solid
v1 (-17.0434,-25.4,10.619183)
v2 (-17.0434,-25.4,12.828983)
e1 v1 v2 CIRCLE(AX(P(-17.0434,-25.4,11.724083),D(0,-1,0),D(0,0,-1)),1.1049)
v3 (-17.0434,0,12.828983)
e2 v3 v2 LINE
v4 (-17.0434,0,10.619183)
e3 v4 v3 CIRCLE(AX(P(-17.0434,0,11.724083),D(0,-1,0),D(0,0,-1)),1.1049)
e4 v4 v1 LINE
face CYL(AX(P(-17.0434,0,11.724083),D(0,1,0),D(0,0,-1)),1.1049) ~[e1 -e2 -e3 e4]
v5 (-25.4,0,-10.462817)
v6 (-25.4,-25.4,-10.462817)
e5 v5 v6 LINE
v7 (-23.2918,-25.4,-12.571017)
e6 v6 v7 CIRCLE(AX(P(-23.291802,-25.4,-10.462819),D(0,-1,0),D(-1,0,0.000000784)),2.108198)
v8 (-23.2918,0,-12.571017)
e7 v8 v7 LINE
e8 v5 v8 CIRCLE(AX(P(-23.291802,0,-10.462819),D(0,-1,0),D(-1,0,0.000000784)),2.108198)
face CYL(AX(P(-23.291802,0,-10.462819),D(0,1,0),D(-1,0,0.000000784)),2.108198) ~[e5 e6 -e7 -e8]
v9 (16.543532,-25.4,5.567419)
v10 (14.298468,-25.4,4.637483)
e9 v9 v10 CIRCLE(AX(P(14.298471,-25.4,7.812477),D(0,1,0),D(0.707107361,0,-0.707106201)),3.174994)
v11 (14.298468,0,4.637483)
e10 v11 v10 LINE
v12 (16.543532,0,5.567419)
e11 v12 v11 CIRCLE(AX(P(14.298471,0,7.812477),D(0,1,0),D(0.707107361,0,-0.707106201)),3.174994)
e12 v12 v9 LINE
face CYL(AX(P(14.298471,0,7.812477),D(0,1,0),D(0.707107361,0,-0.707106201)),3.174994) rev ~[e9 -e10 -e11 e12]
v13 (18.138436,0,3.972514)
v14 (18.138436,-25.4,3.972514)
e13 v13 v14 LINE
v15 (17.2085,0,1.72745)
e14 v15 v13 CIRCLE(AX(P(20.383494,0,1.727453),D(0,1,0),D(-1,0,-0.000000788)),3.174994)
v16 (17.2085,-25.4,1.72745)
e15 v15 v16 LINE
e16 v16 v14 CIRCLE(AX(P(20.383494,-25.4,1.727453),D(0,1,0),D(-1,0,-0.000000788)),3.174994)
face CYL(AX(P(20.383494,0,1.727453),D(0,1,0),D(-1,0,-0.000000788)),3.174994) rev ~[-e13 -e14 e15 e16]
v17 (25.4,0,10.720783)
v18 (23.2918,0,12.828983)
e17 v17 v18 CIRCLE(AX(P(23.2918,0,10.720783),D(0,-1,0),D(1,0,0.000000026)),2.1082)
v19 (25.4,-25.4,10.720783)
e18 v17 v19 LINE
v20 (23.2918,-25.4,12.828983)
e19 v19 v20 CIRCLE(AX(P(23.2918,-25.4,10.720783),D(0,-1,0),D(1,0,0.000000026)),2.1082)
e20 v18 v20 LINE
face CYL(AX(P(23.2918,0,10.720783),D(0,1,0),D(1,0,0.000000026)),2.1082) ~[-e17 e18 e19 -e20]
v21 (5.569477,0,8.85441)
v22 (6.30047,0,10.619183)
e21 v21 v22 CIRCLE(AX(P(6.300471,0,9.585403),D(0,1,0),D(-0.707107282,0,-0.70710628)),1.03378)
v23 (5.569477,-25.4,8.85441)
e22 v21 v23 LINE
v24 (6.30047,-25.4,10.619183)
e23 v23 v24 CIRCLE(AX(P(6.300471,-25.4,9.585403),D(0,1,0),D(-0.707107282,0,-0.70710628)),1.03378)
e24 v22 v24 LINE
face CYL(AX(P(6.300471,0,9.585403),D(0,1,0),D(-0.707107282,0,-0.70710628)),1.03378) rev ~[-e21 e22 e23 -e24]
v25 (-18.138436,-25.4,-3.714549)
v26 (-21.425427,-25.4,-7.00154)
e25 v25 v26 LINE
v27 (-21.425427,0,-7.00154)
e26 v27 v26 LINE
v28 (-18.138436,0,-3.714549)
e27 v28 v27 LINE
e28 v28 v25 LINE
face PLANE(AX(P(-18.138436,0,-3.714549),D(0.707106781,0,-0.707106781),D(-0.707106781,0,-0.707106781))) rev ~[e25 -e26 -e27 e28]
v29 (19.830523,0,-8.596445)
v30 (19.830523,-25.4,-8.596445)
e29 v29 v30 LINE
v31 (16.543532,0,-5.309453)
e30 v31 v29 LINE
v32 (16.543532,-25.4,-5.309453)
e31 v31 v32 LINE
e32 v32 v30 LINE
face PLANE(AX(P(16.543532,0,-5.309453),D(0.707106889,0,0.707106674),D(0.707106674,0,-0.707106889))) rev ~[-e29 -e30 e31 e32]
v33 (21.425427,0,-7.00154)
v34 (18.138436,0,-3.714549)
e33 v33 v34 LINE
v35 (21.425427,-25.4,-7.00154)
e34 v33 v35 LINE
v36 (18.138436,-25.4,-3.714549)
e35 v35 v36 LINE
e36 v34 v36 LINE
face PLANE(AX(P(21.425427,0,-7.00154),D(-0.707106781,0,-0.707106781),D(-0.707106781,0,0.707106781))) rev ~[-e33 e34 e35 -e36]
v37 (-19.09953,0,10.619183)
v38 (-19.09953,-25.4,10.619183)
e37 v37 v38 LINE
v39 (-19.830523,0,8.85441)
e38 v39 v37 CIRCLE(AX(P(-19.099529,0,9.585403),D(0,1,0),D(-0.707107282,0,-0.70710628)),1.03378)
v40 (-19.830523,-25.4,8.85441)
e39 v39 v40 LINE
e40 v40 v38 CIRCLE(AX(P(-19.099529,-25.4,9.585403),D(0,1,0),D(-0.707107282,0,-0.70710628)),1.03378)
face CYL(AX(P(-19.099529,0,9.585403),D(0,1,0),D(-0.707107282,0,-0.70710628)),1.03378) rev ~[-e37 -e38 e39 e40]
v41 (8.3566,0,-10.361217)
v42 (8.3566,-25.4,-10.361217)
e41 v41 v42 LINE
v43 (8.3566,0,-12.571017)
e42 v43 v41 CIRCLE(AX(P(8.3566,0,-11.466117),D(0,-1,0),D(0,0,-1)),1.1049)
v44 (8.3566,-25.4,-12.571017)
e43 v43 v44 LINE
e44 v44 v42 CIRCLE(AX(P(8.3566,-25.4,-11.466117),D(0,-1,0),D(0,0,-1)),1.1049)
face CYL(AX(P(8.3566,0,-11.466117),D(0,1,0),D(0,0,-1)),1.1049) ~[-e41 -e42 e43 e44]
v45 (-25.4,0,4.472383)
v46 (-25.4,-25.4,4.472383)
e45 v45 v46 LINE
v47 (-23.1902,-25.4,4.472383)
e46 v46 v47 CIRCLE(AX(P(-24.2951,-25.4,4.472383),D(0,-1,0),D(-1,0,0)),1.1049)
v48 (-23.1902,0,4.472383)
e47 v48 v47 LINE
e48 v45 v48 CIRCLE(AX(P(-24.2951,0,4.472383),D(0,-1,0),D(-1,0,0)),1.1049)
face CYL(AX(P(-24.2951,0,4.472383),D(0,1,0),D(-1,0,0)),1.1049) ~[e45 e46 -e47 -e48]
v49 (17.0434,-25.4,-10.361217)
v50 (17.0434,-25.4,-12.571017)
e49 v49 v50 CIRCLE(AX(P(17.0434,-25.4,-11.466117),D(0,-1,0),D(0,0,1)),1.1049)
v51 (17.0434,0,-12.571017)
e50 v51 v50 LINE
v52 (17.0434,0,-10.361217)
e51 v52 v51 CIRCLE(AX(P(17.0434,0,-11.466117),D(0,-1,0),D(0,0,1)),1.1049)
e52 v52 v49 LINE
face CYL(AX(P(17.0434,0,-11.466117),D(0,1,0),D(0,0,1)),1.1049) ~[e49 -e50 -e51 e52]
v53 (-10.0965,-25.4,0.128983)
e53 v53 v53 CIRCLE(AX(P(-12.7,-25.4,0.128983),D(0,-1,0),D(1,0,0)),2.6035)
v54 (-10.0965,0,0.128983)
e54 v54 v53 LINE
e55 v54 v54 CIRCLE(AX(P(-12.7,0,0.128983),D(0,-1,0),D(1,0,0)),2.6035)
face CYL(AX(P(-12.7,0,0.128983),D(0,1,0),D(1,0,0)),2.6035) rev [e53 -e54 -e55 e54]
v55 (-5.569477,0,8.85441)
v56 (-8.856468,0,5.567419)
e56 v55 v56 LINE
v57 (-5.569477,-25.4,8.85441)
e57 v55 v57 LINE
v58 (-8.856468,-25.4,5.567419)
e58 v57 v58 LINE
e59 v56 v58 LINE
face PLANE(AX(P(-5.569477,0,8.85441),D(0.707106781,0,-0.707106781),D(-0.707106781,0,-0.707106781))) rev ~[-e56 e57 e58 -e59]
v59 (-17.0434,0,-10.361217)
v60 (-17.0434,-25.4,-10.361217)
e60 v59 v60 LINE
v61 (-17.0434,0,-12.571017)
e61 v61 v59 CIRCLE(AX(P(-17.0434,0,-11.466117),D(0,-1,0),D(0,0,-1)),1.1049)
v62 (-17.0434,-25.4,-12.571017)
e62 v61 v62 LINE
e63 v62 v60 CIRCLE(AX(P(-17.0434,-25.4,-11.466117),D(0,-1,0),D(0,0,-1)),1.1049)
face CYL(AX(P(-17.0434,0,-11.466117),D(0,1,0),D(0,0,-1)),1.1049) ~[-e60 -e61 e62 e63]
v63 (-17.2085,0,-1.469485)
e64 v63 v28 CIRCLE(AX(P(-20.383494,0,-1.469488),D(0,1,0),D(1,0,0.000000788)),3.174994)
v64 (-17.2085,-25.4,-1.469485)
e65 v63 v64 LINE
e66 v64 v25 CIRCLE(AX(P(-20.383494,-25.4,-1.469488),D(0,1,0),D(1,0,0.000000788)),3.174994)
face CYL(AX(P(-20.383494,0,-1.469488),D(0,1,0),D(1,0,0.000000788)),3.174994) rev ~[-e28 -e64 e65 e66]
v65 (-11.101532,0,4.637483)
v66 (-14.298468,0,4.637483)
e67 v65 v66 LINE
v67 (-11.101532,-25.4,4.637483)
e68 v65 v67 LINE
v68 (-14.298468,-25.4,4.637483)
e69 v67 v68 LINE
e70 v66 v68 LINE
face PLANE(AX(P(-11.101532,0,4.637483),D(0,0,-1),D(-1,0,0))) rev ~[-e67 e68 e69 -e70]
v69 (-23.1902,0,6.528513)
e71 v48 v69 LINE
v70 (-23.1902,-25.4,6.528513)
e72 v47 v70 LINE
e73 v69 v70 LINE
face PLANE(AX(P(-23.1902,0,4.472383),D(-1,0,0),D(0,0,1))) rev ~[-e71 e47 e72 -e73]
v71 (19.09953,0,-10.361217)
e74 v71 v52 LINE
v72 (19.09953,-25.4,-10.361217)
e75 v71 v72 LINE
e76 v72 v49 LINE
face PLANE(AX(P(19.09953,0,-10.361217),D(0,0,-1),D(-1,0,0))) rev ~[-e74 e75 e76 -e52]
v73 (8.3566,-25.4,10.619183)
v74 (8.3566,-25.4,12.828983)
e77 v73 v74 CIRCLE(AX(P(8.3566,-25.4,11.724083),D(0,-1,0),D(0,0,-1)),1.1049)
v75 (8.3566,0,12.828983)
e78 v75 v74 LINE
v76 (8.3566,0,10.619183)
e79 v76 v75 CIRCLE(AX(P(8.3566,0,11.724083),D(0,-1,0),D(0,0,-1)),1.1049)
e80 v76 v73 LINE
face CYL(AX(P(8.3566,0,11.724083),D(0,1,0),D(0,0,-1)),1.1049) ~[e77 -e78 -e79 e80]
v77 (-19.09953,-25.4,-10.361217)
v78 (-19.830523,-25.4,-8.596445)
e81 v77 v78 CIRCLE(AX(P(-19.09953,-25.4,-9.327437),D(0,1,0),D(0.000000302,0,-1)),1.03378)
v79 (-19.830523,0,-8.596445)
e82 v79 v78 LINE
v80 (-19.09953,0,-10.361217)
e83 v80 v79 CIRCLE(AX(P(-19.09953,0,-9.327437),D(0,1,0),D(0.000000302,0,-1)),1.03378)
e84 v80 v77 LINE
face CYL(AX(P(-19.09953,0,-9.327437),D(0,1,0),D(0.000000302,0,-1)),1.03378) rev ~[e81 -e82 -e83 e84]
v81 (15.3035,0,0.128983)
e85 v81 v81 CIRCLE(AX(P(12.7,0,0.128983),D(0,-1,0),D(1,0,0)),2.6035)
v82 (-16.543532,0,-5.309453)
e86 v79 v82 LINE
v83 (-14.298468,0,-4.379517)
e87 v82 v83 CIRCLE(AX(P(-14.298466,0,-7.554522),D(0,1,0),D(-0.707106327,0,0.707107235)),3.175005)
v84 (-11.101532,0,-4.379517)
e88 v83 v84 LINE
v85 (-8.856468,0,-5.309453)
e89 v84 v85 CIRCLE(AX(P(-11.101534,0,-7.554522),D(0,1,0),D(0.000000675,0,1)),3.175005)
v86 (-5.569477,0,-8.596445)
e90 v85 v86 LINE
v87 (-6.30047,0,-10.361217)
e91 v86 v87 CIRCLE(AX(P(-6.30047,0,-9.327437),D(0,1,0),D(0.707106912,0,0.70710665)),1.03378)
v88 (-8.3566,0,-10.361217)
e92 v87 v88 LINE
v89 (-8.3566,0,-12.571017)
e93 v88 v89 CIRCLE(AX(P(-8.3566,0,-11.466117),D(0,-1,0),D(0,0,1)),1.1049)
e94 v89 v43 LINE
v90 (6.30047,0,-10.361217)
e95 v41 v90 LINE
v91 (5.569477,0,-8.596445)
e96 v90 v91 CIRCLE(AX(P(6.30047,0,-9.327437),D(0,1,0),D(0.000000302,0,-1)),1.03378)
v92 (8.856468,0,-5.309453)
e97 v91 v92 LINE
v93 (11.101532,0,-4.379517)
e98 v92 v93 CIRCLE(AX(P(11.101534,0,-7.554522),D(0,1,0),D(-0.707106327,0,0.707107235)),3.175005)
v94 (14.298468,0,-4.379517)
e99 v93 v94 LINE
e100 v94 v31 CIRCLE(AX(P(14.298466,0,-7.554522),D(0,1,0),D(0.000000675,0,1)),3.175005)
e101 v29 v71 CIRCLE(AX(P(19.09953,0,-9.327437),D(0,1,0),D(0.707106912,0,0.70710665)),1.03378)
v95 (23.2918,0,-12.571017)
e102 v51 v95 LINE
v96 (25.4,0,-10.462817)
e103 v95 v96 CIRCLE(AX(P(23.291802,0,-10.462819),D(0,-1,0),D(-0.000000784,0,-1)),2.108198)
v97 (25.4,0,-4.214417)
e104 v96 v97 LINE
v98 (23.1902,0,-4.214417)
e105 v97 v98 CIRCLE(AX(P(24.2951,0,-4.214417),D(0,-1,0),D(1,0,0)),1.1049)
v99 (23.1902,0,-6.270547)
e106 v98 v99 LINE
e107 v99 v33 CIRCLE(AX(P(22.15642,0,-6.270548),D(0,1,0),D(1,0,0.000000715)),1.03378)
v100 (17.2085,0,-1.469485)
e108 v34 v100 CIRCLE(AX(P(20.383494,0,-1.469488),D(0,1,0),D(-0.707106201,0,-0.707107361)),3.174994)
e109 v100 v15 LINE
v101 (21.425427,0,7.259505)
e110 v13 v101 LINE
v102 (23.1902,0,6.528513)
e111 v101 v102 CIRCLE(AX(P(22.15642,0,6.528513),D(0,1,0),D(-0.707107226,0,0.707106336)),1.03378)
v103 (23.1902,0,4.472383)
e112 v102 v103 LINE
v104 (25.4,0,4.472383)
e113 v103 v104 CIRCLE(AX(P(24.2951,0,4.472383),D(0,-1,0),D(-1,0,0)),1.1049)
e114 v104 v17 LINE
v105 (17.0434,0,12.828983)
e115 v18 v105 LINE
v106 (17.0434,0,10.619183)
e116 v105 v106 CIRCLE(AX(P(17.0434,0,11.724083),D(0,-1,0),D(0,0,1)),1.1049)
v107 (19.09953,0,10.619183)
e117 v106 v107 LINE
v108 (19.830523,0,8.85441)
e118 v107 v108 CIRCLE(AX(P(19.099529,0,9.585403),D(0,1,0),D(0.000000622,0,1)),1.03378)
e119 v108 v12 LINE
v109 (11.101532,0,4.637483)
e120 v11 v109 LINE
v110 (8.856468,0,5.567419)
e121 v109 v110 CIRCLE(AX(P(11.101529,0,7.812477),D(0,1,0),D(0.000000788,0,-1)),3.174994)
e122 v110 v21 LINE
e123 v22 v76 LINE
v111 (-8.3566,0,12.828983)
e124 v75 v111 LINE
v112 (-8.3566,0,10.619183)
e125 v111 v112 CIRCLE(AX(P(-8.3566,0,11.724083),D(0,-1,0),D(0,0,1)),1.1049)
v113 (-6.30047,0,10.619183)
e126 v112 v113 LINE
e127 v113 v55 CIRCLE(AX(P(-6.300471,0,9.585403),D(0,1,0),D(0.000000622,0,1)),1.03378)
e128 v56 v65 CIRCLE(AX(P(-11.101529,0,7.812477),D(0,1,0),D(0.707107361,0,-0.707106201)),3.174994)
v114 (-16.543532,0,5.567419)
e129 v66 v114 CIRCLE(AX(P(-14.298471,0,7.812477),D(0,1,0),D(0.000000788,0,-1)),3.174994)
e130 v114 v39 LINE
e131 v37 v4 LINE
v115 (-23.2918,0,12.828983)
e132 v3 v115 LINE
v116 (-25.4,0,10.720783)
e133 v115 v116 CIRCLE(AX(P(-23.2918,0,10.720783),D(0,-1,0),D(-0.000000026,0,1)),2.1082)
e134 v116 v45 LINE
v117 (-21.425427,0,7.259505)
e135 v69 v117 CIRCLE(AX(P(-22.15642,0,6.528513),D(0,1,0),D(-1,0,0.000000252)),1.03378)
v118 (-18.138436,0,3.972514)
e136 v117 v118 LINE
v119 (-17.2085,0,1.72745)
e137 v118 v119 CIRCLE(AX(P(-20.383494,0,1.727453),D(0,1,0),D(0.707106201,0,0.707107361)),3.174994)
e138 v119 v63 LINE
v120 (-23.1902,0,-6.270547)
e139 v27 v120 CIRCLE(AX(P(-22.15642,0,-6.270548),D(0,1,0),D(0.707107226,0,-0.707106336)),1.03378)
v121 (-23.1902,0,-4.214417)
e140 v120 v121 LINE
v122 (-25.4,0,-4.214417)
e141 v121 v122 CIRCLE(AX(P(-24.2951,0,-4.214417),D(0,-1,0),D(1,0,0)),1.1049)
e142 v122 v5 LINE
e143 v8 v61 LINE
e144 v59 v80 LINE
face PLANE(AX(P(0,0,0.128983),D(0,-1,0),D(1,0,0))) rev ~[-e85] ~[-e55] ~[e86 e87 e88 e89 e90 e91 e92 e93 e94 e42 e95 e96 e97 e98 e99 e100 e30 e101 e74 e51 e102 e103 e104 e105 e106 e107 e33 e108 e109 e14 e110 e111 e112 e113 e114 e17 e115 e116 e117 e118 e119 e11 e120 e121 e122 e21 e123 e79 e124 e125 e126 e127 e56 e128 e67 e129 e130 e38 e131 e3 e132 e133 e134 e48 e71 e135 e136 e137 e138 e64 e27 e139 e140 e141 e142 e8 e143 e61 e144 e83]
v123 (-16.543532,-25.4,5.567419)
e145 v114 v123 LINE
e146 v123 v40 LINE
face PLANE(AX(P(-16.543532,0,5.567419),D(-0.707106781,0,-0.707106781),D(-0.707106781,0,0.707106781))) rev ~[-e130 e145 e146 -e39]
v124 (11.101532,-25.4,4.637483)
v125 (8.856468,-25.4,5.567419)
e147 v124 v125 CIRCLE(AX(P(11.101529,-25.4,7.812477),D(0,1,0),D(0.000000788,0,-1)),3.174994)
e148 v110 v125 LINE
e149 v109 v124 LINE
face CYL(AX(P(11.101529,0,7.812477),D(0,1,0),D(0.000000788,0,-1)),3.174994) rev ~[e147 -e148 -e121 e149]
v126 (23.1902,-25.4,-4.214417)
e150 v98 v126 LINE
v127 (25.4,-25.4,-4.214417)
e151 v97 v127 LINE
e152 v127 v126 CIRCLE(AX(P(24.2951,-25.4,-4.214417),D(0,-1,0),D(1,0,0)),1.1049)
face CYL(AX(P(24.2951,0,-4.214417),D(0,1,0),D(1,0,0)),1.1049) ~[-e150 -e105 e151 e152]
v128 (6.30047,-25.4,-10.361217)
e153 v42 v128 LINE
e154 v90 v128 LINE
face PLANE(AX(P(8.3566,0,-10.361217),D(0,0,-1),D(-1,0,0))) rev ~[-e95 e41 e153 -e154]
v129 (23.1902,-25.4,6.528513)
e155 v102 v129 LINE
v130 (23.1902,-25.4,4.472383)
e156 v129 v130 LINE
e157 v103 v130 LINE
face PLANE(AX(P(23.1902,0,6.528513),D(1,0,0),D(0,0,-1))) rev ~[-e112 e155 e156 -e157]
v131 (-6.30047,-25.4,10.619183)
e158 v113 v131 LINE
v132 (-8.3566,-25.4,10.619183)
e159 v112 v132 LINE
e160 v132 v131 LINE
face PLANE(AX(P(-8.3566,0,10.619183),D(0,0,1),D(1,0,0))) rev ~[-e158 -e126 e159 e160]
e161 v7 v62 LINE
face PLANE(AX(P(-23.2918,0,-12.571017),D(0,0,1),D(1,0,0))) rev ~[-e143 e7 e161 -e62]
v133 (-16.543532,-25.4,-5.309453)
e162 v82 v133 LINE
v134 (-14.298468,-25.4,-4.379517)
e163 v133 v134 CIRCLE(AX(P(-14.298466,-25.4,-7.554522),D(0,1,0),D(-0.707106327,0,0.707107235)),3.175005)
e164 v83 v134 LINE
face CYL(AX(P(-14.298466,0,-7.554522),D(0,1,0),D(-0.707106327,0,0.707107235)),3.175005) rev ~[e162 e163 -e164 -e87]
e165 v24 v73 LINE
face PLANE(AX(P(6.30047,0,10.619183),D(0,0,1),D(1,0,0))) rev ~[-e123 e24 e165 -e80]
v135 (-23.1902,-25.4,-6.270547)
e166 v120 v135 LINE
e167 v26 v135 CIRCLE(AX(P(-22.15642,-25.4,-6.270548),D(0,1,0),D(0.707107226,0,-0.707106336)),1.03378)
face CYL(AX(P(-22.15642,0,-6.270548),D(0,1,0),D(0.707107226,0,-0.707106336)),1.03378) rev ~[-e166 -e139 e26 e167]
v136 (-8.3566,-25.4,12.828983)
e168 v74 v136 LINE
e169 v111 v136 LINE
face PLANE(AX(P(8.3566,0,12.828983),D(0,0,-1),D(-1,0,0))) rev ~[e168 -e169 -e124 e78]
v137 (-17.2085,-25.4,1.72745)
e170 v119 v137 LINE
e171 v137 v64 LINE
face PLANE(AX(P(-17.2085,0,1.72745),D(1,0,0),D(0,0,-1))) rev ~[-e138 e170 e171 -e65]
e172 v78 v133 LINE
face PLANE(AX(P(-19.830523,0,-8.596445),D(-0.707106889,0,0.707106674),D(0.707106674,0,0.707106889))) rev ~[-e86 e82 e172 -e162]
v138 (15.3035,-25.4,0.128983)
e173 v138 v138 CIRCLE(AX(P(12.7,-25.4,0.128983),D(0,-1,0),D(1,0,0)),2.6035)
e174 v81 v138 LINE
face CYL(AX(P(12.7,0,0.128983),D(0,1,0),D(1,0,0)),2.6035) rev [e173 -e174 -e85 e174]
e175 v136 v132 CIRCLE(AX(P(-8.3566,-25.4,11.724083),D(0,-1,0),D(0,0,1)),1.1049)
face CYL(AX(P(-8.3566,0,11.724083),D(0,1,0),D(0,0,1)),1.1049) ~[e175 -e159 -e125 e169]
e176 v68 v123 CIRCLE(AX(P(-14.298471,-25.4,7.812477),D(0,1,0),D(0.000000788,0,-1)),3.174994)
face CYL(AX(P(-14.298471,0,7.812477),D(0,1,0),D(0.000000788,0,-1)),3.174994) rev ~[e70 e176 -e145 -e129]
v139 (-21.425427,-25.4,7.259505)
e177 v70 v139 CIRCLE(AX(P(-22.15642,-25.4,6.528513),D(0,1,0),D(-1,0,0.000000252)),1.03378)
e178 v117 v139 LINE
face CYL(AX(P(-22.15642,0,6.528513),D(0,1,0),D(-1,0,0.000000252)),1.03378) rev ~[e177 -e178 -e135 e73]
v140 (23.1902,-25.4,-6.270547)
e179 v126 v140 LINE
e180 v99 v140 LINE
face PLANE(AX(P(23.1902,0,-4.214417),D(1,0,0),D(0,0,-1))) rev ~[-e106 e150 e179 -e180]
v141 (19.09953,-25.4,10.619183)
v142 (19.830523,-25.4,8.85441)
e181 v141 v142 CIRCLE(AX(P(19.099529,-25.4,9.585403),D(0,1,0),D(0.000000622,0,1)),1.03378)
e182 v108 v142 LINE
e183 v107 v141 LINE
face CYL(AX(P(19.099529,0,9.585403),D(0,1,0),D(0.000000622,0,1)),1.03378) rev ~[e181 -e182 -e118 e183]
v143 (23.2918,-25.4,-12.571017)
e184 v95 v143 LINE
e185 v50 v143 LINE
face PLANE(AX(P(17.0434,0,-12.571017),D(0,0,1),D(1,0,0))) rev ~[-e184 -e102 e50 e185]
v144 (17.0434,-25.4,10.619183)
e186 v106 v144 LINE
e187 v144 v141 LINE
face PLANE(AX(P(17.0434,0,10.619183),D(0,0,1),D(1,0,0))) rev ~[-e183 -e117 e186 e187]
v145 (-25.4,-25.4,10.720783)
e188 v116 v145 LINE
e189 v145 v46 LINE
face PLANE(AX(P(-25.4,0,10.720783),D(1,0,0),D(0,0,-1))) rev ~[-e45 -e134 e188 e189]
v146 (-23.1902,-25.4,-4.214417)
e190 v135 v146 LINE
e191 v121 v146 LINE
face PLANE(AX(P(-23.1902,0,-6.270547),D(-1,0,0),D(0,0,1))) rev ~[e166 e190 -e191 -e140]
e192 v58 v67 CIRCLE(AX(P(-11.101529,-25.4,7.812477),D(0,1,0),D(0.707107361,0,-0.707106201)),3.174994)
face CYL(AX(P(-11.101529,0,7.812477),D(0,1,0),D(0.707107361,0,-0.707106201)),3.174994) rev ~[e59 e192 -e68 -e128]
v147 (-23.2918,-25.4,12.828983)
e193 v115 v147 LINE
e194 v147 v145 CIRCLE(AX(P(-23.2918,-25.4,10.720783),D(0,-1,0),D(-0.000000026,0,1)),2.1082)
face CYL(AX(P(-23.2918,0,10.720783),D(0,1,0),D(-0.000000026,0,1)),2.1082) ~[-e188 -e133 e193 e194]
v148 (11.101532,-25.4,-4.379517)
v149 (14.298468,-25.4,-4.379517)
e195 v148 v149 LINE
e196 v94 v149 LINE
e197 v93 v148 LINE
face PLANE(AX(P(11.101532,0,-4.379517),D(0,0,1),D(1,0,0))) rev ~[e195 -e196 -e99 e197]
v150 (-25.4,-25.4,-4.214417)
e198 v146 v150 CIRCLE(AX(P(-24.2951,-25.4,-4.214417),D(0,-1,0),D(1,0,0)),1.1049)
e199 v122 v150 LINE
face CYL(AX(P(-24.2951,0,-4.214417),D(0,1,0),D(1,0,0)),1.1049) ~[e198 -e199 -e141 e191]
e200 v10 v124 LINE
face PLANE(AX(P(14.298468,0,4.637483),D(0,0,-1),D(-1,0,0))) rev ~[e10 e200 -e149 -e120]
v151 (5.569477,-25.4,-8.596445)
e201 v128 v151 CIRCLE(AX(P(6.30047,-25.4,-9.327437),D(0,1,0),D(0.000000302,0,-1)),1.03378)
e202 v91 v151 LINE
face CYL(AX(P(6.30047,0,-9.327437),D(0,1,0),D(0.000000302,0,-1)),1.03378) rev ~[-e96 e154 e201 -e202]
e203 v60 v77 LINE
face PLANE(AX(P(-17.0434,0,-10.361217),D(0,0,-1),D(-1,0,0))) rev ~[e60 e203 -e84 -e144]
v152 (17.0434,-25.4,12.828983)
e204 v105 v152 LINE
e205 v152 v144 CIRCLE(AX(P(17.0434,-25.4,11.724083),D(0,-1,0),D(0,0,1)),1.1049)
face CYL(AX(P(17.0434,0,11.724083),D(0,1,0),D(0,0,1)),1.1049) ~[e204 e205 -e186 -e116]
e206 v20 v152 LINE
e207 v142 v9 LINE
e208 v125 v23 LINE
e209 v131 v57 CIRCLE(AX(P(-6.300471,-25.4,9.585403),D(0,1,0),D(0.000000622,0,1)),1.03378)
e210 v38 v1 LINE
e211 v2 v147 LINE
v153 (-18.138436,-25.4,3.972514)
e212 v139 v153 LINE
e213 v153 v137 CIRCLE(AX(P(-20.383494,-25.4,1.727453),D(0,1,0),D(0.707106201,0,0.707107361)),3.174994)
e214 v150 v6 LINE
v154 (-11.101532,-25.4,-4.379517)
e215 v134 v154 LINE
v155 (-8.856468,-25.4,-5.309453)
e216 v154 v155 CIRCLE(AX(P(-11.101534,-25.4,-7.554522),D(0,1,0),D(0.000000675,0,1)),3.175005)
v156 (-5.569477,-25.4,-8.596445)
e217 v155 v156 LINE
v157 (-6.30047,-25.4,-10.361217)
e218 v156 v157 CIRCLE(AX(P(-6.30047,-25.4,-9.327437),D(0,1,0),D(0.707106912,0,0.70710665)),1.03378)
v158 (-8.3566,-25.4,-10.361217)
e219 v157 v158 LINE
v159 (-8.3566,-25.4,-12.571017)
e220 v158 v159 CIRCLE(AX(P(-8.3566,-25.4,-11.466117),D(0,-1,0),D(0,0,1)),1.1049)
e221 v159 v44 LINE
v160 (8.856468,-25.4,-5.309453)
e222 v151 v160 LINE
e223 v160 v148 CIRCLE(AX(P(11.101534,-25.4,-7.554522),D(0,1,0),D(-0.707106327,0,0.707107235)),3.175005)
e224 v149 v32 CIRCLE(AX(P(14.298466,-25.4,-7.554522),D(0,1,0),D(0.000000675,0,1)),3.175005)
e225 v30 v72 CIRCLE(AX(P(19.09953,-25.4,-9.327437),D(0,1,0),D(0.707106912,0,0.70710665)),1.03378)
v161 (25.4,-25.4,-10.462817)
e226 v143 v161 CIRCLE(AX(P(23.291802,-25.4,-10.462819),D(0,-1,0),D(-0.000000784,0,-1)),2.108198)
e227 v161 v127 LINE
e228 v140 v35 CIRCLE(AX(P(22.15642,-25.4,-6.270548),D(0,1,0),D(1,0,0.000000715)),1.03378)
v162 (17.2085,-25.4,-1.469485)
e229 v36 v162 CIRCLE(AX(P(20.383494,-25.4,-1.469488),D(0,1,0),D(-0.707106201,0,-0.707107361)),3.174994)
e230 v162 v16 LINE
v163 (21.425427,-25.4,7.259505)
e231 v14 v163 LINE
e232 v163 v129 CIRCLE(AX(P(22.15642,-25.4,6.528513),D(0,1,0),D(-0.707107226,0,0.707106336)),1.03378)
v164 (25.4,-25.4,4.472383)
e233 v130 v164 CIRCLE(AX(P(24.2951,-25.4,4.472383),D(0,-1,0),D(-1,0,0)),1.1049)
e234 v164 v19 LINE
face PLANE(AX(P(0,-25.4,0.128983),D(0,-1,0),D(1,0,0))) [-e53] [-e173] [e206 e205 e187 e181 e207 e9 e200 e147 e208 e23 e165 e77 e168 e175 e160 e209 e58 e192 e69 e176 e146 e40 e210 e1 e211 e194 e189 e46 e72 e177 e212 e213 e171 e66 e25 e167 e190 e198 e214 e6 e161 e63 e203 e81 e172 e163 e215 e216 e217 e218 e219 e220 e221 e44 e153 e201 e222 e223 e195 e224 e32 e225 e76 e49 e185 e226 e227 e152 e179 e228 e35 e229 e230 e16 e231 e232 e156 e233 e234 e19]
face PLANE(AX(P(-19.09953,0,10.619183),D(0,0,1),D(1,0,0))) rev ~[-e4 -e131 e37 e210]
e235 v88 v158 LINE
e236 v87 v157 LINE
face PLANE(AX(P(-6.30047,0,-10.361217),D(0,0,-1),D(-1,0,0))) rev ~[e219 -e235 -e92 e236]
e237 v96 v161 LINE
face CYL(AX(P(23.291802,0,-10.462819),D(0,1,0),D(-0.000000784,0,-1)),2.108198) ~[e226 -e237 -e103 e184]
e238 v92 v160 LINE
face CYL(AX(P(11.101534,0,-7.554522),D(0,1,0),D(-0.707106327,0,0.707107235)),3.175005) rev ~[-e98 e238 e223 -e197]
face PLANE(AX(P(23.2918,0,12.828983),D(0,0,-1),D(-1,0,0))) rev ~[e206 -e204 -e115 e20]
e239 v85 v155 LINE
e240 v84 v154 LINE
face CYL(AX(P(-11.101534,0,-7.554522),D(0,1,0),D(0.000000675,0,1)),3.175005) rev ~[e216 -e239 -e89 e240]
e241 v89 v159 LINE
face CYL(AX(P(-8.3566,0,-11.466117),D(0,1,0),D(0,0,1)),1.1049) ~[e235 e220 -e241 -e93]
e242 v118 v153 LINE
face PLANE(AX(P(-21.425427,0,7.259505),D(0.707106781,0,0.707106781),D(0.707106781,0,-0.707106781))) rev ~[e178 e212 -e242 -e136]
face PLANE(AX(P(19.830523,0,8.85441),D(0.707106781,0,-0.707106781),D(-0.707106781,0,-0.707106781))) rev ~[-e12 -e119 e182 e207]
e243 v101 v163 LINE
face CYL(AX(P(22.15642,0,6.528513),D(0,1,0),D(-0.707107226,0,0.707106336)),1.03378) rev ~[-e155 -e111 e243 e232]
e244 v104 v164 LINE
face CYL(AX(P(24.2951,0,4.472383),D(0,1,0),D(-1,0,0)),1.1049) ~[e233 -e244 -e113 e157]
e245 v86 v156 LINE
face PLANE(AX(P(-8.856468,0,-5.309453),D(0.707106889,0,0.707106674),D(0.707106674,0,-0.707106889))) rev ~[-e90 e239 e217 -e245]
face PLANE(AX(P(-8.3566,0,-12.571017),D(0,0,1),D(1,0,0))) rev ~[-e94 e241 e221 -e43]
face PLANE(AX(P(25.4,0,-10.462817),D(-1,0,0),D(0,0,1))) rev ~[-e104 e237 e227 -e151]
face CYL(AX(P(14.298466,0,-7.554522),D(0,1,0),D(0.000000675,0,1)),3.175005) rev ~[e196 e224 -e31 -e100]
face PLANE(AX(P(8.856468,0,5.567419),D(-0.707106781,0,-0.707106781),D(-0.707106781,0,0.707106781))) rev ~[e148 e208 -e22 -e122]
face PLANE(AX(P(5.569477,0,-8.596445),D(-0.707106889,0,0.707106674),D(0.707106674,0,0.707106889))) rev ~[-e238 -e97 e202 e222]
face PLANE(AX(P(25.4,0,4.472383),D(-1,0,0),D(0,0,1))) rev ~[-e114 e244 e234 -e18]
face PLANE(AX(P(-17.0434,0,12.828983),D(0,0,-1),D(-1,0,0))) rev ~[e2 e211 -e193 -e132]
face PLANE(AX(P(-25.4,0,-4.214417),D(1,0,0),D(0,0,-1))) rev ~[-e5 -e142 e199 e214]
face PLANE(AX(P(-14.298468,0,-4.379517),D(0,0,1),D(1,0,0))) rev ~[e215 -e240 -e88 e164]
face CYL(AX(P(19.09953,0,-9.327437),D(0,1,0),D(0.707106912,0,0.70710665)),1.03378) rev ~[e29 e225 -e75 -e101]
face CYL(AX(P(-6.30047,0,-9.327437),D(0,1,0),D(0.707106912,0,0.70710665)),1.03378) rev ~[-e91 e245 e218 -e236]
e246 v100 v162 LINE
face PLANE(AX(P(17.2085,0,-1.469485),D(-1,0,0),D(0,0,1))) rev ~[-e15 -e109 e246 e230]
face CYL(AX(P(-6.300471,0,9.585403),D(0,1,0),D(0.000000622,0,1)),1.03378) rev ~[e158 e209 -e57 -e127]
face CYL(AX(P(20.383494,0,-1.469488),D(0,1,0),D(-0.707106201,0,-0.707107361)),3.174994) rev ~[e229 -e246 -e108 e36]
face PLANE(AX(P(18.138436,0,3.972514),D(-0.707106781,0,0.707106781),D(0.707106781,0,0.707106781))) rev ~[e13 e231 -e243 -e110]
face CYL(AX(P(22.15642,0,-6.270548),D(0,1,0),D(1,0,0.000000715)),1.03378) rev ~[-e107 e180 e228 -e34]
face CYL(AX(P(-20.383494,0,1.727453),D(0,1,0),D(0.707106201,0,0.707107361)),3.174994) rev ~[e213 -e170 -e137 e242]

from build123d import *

# Parameters (mm, degrees)
F0_R     = 2.6035
F1_DEPTH = 25.4


with BuildPart() as f1:
    # F0 (on Front) → F1 (new body)
    with BuildSketch(Plane.XZ):
        with BuildLine():
            Line((-17.0434, 12.828983), (-23.2918, 12.828983))
            ThreePointArc((-23.2918, 12.828983), (-24.782523, 12.211505), (-25.4, 10.720783))
            Line((-25.4, 10.720783), (-25.4, 4.472383))
            ThreePointArc((-25.4, 4.472383), (-24.2951, 3.367483), (-23.1902, 4.472383))
            Line((-23.1902, 4.472383), (-23.1902, 6.528513))
            ThreePointArc((-23.1902, 6.528513), (-22.55203, 7.483601), (-21.425427, 7.259505))
            Line((-21.425427, 7.259505), (-18.138436, 3.972514))
            ThreePointArc((-18.138436, 3.972514), (-17.450182, 2.94247), (-17.2085, 1.72745))
            Line((-17.2085, 1.72745), (-17.2085, -1.469485))
            ThreePointArc((-17.2085, -1.469485), (-17.450182, -2.684505), (-18.138436, -3.714549))
            Line((-18.138436, -3.714549), (-21.425427, -7.00154))
            ThreePointArc((-21.425427, -7.00154), (-22.55203, -7.225636), (-23.1902, -6.270547))
            Line((-23.1902, -6.270547), (-23.1902, -4.214417))
            ThreePointArc((-23.1902, -4.214417), (-24.2951, -3.109517), (-25.4, -4.214417))
            Line((-25.4, -4.214417), (-25.4, -10.462817))
            ThreePointArc((-25.4, -10.462817), (-24.782523, -11.95354), (-23.2918, -12.571017))
            Line((-23.2918, -12.571017), (-17.0434, -12.571017))
            ThreePointArc((-17.0434, -12.571017), (-15.9385, -11.466117), (-17.0434, -10.361217))
            Line((-17.0434, -10.361217), (-19.09953, -10.361217))
            ThreePointArc((-19.09953, -10.361217), (-20.054618, -9.723048), (-19.830523, -8.596445))
            Line((-19.830523, -8.596445), (-16.543532, -5.309453))
            ThreePointArc((-16.543532, -5.309453), (-15.513488, -4.6212), (-14.298468, -4.379517))
            Line((-14.298468, -4.379517), (-11.101532, -4.379517))
            ThreePointArc((-11.101532, -4.379517), (-9.886512, -4.6212), (-8.856468, -5.309453))
            Line((-8.856468, -5.309453), (-5.569477, -8.596445))
            ThreePointArc((-5.569477, -8.596445), (-5.345382, -9.723048), (-6.30047, -10.361217))
            Line((-6.30047, -10.361217), (-8.3566, -10.361217))
            ThreePointArc((-8.3566, -10.361217), (-9.4615, -11.466117), (-8.3566, -12.571017))
            Line((-8.3566, -12.571017), (2.1082, -12.571017))
            Line((2.1082, -12.571017), (8.3566, -12.571017))
            ThreePointArc((8.3566, -12.571017), (9.4615, -11.466117), (8.3566, -10.361217))
            Line((8.3566, -10.361217), (6.30047, -10.361217))
            ThreePointArc((6.30047, -10.361217), (5.345382, -9.723048), (5.569477, -8.596445))
            Line((5.569477, -8.596445), (8.856468, -5.309453))
            ThreePointArc((8.856468, -5.309453), (9.886512, -4.6212), (11.101532, -4.379517))
            Line((11.101532, -4.379517), (14.298468, -4.379517))
            ThreePointArc((14.298468, -4.379517), (15.513488, -4.6212), (16.543532, -5.309453))
            Line((16.543532, -5.309453), (19.830523, -8.596445))
            ThreePointArc((19.830523, -8.596445), (20.054618, -9.723048), (19.09953, -10.361217))
            Line((19.09953, -10.361217), (17.0434, -10.361217))
            ThreePointArc((17.0434, -10.361217), (15.9385, -11.466117), (17.0434, -12.571017))
            Line((17.0434, -12.571017), (23.2918, -12.571017))
            ThreePointArc((23.2918, -12.571017), (24.782523, -11.95354), (25.4, -10.462817))
            Line((25.4, -10.462817), (25.4, -4.214417))
            ThreePointArc((25.4, -4.214417), (24.2951, -3.109517), (23.1902, -4.214417))
            Line((23.1902, -4.214417), (23.1902, -6.270547))
            ThreePointArc((23.1902, -6.270547), (22.55203, -7.225636), (21.425427, -7.00154))
            Line((21.425427, -7.00154), (18.138436, -3.714549))
            ThreePointArc((18.138436, -3.714549), (17.450182, -2.684505), (17.2085, -1.469485))
            Line((17.2085, -1.469485), (17.2085, 1.72745))
            ThreePointArc((17.2085, 1.72745), (17.450182, 2.94247), (18.138436, 3.972514))
            Line((18.138436, 3.972514), (21.425427, 7.259505))
            ThreePointArc((21.425427, 7.259505), (22.55203, 7.483601), (23.1902, 6.528513))
            Line((23.1902, 6.528513), (23.1902, 4.472383))
            ThreePointArc((23.1902, 4.472383), (24.2951, 3.367483), (25.4, 4.472383))
            Line((25.4, 4.472383), (25.4, 10.720783))
            ThreePointArc((25.4, 10.720783), (24.782523, 12.211505), (23.2918, 12.828983))
            Line((23.2918, 12.828983), (17.0434, 12.828983))
            ThreePointArc((17.0434, 12.828983), (15.9385, 11.724083), (17.0434, 10.619183))
            Line((17.0434, 10.619183), (19.09953, 10.619183))
            ThreePointArc((19.09953, 10.619183), (20.054618, 9.981013), (19.830523, 8.85441))
            Line((19.830523, 8.85441), (16.543532, 5.567419))
            ThreePointArc((16.543532, 5.567419), (15.513488, 4.879165), (14.298468, 4.637483))
            Line((14.298468, 4.637483), (11.101532, 4.637483))
            ThreePointArc((11.101532, 4.637483), (9.886512, 4.879165), (8.856468, 5.567419))
            Line((8.856468, 5.567419), (5.569477, 8.85441))
            ThreePointArc((5.569477, 8.85441), (5.345382, 9.981013), (6.30047, 10.619183))
            Line((6.30047, 10.619183), (8.3566, 10.619183))
            ThreePointArc((8.3566, 10.619183), (9.4615, 11.724083), (8.3566, 12.828983))
            Line((8.3566, 12.828983), (2.1082, 12.828983))
            Line((2.1082, 12.828983), (-8.3566, 12.828983))
            ThreePointArc((-8.3566, 12.828983), (-9.4615, 11.724083), (-8.3566, 10.619183))
            Line((-8.3566, 10.619183), (-6.30047, 10.619183))
            ThreePointArc((-6.30047, 10.619183), (-5.345382, 9.981013), (-5.569477, 8.85441))
            Line((-5.569477, 8.85441), (-8.856468, 5.567419))
            ThreePointArc((-8.856468, 5.567419), (-9.886512, 4.879165), (-11.101532, 4.637483))
            Line((-11.101532, 4.637483), (-14.298468, 4.637483))
            ThreePointArc((-14.298468, 4.637483), (-15.513488, 4.879165), (-16.543532, 5.567419))
            Line((-16.543532, 5.567419), (-19.830523, 8.85441))
            ThreePointArc((-19.830523, 8.85441), (-20.054618, 9.981013), (-19.09953, 10.619183))
            Line((-19.09953, 10.619183), (-17.0434, 10.619183))
            ThreePointArc((-17.0434, 10.619183), (-15.9385, 11.724083), (-17.0434, 12.828983))
        make_face()
        with Locations((-12.7, 0.128983)):
            Circle(F0_R, mode=Mode.SUBTRACT)
        with Locations((12.7, 0.128983)):
            Circle(F0_R, mode=Mode.SUBTRACT)
    extrude(amount=F1_DEPTH)


solid = f1.part
